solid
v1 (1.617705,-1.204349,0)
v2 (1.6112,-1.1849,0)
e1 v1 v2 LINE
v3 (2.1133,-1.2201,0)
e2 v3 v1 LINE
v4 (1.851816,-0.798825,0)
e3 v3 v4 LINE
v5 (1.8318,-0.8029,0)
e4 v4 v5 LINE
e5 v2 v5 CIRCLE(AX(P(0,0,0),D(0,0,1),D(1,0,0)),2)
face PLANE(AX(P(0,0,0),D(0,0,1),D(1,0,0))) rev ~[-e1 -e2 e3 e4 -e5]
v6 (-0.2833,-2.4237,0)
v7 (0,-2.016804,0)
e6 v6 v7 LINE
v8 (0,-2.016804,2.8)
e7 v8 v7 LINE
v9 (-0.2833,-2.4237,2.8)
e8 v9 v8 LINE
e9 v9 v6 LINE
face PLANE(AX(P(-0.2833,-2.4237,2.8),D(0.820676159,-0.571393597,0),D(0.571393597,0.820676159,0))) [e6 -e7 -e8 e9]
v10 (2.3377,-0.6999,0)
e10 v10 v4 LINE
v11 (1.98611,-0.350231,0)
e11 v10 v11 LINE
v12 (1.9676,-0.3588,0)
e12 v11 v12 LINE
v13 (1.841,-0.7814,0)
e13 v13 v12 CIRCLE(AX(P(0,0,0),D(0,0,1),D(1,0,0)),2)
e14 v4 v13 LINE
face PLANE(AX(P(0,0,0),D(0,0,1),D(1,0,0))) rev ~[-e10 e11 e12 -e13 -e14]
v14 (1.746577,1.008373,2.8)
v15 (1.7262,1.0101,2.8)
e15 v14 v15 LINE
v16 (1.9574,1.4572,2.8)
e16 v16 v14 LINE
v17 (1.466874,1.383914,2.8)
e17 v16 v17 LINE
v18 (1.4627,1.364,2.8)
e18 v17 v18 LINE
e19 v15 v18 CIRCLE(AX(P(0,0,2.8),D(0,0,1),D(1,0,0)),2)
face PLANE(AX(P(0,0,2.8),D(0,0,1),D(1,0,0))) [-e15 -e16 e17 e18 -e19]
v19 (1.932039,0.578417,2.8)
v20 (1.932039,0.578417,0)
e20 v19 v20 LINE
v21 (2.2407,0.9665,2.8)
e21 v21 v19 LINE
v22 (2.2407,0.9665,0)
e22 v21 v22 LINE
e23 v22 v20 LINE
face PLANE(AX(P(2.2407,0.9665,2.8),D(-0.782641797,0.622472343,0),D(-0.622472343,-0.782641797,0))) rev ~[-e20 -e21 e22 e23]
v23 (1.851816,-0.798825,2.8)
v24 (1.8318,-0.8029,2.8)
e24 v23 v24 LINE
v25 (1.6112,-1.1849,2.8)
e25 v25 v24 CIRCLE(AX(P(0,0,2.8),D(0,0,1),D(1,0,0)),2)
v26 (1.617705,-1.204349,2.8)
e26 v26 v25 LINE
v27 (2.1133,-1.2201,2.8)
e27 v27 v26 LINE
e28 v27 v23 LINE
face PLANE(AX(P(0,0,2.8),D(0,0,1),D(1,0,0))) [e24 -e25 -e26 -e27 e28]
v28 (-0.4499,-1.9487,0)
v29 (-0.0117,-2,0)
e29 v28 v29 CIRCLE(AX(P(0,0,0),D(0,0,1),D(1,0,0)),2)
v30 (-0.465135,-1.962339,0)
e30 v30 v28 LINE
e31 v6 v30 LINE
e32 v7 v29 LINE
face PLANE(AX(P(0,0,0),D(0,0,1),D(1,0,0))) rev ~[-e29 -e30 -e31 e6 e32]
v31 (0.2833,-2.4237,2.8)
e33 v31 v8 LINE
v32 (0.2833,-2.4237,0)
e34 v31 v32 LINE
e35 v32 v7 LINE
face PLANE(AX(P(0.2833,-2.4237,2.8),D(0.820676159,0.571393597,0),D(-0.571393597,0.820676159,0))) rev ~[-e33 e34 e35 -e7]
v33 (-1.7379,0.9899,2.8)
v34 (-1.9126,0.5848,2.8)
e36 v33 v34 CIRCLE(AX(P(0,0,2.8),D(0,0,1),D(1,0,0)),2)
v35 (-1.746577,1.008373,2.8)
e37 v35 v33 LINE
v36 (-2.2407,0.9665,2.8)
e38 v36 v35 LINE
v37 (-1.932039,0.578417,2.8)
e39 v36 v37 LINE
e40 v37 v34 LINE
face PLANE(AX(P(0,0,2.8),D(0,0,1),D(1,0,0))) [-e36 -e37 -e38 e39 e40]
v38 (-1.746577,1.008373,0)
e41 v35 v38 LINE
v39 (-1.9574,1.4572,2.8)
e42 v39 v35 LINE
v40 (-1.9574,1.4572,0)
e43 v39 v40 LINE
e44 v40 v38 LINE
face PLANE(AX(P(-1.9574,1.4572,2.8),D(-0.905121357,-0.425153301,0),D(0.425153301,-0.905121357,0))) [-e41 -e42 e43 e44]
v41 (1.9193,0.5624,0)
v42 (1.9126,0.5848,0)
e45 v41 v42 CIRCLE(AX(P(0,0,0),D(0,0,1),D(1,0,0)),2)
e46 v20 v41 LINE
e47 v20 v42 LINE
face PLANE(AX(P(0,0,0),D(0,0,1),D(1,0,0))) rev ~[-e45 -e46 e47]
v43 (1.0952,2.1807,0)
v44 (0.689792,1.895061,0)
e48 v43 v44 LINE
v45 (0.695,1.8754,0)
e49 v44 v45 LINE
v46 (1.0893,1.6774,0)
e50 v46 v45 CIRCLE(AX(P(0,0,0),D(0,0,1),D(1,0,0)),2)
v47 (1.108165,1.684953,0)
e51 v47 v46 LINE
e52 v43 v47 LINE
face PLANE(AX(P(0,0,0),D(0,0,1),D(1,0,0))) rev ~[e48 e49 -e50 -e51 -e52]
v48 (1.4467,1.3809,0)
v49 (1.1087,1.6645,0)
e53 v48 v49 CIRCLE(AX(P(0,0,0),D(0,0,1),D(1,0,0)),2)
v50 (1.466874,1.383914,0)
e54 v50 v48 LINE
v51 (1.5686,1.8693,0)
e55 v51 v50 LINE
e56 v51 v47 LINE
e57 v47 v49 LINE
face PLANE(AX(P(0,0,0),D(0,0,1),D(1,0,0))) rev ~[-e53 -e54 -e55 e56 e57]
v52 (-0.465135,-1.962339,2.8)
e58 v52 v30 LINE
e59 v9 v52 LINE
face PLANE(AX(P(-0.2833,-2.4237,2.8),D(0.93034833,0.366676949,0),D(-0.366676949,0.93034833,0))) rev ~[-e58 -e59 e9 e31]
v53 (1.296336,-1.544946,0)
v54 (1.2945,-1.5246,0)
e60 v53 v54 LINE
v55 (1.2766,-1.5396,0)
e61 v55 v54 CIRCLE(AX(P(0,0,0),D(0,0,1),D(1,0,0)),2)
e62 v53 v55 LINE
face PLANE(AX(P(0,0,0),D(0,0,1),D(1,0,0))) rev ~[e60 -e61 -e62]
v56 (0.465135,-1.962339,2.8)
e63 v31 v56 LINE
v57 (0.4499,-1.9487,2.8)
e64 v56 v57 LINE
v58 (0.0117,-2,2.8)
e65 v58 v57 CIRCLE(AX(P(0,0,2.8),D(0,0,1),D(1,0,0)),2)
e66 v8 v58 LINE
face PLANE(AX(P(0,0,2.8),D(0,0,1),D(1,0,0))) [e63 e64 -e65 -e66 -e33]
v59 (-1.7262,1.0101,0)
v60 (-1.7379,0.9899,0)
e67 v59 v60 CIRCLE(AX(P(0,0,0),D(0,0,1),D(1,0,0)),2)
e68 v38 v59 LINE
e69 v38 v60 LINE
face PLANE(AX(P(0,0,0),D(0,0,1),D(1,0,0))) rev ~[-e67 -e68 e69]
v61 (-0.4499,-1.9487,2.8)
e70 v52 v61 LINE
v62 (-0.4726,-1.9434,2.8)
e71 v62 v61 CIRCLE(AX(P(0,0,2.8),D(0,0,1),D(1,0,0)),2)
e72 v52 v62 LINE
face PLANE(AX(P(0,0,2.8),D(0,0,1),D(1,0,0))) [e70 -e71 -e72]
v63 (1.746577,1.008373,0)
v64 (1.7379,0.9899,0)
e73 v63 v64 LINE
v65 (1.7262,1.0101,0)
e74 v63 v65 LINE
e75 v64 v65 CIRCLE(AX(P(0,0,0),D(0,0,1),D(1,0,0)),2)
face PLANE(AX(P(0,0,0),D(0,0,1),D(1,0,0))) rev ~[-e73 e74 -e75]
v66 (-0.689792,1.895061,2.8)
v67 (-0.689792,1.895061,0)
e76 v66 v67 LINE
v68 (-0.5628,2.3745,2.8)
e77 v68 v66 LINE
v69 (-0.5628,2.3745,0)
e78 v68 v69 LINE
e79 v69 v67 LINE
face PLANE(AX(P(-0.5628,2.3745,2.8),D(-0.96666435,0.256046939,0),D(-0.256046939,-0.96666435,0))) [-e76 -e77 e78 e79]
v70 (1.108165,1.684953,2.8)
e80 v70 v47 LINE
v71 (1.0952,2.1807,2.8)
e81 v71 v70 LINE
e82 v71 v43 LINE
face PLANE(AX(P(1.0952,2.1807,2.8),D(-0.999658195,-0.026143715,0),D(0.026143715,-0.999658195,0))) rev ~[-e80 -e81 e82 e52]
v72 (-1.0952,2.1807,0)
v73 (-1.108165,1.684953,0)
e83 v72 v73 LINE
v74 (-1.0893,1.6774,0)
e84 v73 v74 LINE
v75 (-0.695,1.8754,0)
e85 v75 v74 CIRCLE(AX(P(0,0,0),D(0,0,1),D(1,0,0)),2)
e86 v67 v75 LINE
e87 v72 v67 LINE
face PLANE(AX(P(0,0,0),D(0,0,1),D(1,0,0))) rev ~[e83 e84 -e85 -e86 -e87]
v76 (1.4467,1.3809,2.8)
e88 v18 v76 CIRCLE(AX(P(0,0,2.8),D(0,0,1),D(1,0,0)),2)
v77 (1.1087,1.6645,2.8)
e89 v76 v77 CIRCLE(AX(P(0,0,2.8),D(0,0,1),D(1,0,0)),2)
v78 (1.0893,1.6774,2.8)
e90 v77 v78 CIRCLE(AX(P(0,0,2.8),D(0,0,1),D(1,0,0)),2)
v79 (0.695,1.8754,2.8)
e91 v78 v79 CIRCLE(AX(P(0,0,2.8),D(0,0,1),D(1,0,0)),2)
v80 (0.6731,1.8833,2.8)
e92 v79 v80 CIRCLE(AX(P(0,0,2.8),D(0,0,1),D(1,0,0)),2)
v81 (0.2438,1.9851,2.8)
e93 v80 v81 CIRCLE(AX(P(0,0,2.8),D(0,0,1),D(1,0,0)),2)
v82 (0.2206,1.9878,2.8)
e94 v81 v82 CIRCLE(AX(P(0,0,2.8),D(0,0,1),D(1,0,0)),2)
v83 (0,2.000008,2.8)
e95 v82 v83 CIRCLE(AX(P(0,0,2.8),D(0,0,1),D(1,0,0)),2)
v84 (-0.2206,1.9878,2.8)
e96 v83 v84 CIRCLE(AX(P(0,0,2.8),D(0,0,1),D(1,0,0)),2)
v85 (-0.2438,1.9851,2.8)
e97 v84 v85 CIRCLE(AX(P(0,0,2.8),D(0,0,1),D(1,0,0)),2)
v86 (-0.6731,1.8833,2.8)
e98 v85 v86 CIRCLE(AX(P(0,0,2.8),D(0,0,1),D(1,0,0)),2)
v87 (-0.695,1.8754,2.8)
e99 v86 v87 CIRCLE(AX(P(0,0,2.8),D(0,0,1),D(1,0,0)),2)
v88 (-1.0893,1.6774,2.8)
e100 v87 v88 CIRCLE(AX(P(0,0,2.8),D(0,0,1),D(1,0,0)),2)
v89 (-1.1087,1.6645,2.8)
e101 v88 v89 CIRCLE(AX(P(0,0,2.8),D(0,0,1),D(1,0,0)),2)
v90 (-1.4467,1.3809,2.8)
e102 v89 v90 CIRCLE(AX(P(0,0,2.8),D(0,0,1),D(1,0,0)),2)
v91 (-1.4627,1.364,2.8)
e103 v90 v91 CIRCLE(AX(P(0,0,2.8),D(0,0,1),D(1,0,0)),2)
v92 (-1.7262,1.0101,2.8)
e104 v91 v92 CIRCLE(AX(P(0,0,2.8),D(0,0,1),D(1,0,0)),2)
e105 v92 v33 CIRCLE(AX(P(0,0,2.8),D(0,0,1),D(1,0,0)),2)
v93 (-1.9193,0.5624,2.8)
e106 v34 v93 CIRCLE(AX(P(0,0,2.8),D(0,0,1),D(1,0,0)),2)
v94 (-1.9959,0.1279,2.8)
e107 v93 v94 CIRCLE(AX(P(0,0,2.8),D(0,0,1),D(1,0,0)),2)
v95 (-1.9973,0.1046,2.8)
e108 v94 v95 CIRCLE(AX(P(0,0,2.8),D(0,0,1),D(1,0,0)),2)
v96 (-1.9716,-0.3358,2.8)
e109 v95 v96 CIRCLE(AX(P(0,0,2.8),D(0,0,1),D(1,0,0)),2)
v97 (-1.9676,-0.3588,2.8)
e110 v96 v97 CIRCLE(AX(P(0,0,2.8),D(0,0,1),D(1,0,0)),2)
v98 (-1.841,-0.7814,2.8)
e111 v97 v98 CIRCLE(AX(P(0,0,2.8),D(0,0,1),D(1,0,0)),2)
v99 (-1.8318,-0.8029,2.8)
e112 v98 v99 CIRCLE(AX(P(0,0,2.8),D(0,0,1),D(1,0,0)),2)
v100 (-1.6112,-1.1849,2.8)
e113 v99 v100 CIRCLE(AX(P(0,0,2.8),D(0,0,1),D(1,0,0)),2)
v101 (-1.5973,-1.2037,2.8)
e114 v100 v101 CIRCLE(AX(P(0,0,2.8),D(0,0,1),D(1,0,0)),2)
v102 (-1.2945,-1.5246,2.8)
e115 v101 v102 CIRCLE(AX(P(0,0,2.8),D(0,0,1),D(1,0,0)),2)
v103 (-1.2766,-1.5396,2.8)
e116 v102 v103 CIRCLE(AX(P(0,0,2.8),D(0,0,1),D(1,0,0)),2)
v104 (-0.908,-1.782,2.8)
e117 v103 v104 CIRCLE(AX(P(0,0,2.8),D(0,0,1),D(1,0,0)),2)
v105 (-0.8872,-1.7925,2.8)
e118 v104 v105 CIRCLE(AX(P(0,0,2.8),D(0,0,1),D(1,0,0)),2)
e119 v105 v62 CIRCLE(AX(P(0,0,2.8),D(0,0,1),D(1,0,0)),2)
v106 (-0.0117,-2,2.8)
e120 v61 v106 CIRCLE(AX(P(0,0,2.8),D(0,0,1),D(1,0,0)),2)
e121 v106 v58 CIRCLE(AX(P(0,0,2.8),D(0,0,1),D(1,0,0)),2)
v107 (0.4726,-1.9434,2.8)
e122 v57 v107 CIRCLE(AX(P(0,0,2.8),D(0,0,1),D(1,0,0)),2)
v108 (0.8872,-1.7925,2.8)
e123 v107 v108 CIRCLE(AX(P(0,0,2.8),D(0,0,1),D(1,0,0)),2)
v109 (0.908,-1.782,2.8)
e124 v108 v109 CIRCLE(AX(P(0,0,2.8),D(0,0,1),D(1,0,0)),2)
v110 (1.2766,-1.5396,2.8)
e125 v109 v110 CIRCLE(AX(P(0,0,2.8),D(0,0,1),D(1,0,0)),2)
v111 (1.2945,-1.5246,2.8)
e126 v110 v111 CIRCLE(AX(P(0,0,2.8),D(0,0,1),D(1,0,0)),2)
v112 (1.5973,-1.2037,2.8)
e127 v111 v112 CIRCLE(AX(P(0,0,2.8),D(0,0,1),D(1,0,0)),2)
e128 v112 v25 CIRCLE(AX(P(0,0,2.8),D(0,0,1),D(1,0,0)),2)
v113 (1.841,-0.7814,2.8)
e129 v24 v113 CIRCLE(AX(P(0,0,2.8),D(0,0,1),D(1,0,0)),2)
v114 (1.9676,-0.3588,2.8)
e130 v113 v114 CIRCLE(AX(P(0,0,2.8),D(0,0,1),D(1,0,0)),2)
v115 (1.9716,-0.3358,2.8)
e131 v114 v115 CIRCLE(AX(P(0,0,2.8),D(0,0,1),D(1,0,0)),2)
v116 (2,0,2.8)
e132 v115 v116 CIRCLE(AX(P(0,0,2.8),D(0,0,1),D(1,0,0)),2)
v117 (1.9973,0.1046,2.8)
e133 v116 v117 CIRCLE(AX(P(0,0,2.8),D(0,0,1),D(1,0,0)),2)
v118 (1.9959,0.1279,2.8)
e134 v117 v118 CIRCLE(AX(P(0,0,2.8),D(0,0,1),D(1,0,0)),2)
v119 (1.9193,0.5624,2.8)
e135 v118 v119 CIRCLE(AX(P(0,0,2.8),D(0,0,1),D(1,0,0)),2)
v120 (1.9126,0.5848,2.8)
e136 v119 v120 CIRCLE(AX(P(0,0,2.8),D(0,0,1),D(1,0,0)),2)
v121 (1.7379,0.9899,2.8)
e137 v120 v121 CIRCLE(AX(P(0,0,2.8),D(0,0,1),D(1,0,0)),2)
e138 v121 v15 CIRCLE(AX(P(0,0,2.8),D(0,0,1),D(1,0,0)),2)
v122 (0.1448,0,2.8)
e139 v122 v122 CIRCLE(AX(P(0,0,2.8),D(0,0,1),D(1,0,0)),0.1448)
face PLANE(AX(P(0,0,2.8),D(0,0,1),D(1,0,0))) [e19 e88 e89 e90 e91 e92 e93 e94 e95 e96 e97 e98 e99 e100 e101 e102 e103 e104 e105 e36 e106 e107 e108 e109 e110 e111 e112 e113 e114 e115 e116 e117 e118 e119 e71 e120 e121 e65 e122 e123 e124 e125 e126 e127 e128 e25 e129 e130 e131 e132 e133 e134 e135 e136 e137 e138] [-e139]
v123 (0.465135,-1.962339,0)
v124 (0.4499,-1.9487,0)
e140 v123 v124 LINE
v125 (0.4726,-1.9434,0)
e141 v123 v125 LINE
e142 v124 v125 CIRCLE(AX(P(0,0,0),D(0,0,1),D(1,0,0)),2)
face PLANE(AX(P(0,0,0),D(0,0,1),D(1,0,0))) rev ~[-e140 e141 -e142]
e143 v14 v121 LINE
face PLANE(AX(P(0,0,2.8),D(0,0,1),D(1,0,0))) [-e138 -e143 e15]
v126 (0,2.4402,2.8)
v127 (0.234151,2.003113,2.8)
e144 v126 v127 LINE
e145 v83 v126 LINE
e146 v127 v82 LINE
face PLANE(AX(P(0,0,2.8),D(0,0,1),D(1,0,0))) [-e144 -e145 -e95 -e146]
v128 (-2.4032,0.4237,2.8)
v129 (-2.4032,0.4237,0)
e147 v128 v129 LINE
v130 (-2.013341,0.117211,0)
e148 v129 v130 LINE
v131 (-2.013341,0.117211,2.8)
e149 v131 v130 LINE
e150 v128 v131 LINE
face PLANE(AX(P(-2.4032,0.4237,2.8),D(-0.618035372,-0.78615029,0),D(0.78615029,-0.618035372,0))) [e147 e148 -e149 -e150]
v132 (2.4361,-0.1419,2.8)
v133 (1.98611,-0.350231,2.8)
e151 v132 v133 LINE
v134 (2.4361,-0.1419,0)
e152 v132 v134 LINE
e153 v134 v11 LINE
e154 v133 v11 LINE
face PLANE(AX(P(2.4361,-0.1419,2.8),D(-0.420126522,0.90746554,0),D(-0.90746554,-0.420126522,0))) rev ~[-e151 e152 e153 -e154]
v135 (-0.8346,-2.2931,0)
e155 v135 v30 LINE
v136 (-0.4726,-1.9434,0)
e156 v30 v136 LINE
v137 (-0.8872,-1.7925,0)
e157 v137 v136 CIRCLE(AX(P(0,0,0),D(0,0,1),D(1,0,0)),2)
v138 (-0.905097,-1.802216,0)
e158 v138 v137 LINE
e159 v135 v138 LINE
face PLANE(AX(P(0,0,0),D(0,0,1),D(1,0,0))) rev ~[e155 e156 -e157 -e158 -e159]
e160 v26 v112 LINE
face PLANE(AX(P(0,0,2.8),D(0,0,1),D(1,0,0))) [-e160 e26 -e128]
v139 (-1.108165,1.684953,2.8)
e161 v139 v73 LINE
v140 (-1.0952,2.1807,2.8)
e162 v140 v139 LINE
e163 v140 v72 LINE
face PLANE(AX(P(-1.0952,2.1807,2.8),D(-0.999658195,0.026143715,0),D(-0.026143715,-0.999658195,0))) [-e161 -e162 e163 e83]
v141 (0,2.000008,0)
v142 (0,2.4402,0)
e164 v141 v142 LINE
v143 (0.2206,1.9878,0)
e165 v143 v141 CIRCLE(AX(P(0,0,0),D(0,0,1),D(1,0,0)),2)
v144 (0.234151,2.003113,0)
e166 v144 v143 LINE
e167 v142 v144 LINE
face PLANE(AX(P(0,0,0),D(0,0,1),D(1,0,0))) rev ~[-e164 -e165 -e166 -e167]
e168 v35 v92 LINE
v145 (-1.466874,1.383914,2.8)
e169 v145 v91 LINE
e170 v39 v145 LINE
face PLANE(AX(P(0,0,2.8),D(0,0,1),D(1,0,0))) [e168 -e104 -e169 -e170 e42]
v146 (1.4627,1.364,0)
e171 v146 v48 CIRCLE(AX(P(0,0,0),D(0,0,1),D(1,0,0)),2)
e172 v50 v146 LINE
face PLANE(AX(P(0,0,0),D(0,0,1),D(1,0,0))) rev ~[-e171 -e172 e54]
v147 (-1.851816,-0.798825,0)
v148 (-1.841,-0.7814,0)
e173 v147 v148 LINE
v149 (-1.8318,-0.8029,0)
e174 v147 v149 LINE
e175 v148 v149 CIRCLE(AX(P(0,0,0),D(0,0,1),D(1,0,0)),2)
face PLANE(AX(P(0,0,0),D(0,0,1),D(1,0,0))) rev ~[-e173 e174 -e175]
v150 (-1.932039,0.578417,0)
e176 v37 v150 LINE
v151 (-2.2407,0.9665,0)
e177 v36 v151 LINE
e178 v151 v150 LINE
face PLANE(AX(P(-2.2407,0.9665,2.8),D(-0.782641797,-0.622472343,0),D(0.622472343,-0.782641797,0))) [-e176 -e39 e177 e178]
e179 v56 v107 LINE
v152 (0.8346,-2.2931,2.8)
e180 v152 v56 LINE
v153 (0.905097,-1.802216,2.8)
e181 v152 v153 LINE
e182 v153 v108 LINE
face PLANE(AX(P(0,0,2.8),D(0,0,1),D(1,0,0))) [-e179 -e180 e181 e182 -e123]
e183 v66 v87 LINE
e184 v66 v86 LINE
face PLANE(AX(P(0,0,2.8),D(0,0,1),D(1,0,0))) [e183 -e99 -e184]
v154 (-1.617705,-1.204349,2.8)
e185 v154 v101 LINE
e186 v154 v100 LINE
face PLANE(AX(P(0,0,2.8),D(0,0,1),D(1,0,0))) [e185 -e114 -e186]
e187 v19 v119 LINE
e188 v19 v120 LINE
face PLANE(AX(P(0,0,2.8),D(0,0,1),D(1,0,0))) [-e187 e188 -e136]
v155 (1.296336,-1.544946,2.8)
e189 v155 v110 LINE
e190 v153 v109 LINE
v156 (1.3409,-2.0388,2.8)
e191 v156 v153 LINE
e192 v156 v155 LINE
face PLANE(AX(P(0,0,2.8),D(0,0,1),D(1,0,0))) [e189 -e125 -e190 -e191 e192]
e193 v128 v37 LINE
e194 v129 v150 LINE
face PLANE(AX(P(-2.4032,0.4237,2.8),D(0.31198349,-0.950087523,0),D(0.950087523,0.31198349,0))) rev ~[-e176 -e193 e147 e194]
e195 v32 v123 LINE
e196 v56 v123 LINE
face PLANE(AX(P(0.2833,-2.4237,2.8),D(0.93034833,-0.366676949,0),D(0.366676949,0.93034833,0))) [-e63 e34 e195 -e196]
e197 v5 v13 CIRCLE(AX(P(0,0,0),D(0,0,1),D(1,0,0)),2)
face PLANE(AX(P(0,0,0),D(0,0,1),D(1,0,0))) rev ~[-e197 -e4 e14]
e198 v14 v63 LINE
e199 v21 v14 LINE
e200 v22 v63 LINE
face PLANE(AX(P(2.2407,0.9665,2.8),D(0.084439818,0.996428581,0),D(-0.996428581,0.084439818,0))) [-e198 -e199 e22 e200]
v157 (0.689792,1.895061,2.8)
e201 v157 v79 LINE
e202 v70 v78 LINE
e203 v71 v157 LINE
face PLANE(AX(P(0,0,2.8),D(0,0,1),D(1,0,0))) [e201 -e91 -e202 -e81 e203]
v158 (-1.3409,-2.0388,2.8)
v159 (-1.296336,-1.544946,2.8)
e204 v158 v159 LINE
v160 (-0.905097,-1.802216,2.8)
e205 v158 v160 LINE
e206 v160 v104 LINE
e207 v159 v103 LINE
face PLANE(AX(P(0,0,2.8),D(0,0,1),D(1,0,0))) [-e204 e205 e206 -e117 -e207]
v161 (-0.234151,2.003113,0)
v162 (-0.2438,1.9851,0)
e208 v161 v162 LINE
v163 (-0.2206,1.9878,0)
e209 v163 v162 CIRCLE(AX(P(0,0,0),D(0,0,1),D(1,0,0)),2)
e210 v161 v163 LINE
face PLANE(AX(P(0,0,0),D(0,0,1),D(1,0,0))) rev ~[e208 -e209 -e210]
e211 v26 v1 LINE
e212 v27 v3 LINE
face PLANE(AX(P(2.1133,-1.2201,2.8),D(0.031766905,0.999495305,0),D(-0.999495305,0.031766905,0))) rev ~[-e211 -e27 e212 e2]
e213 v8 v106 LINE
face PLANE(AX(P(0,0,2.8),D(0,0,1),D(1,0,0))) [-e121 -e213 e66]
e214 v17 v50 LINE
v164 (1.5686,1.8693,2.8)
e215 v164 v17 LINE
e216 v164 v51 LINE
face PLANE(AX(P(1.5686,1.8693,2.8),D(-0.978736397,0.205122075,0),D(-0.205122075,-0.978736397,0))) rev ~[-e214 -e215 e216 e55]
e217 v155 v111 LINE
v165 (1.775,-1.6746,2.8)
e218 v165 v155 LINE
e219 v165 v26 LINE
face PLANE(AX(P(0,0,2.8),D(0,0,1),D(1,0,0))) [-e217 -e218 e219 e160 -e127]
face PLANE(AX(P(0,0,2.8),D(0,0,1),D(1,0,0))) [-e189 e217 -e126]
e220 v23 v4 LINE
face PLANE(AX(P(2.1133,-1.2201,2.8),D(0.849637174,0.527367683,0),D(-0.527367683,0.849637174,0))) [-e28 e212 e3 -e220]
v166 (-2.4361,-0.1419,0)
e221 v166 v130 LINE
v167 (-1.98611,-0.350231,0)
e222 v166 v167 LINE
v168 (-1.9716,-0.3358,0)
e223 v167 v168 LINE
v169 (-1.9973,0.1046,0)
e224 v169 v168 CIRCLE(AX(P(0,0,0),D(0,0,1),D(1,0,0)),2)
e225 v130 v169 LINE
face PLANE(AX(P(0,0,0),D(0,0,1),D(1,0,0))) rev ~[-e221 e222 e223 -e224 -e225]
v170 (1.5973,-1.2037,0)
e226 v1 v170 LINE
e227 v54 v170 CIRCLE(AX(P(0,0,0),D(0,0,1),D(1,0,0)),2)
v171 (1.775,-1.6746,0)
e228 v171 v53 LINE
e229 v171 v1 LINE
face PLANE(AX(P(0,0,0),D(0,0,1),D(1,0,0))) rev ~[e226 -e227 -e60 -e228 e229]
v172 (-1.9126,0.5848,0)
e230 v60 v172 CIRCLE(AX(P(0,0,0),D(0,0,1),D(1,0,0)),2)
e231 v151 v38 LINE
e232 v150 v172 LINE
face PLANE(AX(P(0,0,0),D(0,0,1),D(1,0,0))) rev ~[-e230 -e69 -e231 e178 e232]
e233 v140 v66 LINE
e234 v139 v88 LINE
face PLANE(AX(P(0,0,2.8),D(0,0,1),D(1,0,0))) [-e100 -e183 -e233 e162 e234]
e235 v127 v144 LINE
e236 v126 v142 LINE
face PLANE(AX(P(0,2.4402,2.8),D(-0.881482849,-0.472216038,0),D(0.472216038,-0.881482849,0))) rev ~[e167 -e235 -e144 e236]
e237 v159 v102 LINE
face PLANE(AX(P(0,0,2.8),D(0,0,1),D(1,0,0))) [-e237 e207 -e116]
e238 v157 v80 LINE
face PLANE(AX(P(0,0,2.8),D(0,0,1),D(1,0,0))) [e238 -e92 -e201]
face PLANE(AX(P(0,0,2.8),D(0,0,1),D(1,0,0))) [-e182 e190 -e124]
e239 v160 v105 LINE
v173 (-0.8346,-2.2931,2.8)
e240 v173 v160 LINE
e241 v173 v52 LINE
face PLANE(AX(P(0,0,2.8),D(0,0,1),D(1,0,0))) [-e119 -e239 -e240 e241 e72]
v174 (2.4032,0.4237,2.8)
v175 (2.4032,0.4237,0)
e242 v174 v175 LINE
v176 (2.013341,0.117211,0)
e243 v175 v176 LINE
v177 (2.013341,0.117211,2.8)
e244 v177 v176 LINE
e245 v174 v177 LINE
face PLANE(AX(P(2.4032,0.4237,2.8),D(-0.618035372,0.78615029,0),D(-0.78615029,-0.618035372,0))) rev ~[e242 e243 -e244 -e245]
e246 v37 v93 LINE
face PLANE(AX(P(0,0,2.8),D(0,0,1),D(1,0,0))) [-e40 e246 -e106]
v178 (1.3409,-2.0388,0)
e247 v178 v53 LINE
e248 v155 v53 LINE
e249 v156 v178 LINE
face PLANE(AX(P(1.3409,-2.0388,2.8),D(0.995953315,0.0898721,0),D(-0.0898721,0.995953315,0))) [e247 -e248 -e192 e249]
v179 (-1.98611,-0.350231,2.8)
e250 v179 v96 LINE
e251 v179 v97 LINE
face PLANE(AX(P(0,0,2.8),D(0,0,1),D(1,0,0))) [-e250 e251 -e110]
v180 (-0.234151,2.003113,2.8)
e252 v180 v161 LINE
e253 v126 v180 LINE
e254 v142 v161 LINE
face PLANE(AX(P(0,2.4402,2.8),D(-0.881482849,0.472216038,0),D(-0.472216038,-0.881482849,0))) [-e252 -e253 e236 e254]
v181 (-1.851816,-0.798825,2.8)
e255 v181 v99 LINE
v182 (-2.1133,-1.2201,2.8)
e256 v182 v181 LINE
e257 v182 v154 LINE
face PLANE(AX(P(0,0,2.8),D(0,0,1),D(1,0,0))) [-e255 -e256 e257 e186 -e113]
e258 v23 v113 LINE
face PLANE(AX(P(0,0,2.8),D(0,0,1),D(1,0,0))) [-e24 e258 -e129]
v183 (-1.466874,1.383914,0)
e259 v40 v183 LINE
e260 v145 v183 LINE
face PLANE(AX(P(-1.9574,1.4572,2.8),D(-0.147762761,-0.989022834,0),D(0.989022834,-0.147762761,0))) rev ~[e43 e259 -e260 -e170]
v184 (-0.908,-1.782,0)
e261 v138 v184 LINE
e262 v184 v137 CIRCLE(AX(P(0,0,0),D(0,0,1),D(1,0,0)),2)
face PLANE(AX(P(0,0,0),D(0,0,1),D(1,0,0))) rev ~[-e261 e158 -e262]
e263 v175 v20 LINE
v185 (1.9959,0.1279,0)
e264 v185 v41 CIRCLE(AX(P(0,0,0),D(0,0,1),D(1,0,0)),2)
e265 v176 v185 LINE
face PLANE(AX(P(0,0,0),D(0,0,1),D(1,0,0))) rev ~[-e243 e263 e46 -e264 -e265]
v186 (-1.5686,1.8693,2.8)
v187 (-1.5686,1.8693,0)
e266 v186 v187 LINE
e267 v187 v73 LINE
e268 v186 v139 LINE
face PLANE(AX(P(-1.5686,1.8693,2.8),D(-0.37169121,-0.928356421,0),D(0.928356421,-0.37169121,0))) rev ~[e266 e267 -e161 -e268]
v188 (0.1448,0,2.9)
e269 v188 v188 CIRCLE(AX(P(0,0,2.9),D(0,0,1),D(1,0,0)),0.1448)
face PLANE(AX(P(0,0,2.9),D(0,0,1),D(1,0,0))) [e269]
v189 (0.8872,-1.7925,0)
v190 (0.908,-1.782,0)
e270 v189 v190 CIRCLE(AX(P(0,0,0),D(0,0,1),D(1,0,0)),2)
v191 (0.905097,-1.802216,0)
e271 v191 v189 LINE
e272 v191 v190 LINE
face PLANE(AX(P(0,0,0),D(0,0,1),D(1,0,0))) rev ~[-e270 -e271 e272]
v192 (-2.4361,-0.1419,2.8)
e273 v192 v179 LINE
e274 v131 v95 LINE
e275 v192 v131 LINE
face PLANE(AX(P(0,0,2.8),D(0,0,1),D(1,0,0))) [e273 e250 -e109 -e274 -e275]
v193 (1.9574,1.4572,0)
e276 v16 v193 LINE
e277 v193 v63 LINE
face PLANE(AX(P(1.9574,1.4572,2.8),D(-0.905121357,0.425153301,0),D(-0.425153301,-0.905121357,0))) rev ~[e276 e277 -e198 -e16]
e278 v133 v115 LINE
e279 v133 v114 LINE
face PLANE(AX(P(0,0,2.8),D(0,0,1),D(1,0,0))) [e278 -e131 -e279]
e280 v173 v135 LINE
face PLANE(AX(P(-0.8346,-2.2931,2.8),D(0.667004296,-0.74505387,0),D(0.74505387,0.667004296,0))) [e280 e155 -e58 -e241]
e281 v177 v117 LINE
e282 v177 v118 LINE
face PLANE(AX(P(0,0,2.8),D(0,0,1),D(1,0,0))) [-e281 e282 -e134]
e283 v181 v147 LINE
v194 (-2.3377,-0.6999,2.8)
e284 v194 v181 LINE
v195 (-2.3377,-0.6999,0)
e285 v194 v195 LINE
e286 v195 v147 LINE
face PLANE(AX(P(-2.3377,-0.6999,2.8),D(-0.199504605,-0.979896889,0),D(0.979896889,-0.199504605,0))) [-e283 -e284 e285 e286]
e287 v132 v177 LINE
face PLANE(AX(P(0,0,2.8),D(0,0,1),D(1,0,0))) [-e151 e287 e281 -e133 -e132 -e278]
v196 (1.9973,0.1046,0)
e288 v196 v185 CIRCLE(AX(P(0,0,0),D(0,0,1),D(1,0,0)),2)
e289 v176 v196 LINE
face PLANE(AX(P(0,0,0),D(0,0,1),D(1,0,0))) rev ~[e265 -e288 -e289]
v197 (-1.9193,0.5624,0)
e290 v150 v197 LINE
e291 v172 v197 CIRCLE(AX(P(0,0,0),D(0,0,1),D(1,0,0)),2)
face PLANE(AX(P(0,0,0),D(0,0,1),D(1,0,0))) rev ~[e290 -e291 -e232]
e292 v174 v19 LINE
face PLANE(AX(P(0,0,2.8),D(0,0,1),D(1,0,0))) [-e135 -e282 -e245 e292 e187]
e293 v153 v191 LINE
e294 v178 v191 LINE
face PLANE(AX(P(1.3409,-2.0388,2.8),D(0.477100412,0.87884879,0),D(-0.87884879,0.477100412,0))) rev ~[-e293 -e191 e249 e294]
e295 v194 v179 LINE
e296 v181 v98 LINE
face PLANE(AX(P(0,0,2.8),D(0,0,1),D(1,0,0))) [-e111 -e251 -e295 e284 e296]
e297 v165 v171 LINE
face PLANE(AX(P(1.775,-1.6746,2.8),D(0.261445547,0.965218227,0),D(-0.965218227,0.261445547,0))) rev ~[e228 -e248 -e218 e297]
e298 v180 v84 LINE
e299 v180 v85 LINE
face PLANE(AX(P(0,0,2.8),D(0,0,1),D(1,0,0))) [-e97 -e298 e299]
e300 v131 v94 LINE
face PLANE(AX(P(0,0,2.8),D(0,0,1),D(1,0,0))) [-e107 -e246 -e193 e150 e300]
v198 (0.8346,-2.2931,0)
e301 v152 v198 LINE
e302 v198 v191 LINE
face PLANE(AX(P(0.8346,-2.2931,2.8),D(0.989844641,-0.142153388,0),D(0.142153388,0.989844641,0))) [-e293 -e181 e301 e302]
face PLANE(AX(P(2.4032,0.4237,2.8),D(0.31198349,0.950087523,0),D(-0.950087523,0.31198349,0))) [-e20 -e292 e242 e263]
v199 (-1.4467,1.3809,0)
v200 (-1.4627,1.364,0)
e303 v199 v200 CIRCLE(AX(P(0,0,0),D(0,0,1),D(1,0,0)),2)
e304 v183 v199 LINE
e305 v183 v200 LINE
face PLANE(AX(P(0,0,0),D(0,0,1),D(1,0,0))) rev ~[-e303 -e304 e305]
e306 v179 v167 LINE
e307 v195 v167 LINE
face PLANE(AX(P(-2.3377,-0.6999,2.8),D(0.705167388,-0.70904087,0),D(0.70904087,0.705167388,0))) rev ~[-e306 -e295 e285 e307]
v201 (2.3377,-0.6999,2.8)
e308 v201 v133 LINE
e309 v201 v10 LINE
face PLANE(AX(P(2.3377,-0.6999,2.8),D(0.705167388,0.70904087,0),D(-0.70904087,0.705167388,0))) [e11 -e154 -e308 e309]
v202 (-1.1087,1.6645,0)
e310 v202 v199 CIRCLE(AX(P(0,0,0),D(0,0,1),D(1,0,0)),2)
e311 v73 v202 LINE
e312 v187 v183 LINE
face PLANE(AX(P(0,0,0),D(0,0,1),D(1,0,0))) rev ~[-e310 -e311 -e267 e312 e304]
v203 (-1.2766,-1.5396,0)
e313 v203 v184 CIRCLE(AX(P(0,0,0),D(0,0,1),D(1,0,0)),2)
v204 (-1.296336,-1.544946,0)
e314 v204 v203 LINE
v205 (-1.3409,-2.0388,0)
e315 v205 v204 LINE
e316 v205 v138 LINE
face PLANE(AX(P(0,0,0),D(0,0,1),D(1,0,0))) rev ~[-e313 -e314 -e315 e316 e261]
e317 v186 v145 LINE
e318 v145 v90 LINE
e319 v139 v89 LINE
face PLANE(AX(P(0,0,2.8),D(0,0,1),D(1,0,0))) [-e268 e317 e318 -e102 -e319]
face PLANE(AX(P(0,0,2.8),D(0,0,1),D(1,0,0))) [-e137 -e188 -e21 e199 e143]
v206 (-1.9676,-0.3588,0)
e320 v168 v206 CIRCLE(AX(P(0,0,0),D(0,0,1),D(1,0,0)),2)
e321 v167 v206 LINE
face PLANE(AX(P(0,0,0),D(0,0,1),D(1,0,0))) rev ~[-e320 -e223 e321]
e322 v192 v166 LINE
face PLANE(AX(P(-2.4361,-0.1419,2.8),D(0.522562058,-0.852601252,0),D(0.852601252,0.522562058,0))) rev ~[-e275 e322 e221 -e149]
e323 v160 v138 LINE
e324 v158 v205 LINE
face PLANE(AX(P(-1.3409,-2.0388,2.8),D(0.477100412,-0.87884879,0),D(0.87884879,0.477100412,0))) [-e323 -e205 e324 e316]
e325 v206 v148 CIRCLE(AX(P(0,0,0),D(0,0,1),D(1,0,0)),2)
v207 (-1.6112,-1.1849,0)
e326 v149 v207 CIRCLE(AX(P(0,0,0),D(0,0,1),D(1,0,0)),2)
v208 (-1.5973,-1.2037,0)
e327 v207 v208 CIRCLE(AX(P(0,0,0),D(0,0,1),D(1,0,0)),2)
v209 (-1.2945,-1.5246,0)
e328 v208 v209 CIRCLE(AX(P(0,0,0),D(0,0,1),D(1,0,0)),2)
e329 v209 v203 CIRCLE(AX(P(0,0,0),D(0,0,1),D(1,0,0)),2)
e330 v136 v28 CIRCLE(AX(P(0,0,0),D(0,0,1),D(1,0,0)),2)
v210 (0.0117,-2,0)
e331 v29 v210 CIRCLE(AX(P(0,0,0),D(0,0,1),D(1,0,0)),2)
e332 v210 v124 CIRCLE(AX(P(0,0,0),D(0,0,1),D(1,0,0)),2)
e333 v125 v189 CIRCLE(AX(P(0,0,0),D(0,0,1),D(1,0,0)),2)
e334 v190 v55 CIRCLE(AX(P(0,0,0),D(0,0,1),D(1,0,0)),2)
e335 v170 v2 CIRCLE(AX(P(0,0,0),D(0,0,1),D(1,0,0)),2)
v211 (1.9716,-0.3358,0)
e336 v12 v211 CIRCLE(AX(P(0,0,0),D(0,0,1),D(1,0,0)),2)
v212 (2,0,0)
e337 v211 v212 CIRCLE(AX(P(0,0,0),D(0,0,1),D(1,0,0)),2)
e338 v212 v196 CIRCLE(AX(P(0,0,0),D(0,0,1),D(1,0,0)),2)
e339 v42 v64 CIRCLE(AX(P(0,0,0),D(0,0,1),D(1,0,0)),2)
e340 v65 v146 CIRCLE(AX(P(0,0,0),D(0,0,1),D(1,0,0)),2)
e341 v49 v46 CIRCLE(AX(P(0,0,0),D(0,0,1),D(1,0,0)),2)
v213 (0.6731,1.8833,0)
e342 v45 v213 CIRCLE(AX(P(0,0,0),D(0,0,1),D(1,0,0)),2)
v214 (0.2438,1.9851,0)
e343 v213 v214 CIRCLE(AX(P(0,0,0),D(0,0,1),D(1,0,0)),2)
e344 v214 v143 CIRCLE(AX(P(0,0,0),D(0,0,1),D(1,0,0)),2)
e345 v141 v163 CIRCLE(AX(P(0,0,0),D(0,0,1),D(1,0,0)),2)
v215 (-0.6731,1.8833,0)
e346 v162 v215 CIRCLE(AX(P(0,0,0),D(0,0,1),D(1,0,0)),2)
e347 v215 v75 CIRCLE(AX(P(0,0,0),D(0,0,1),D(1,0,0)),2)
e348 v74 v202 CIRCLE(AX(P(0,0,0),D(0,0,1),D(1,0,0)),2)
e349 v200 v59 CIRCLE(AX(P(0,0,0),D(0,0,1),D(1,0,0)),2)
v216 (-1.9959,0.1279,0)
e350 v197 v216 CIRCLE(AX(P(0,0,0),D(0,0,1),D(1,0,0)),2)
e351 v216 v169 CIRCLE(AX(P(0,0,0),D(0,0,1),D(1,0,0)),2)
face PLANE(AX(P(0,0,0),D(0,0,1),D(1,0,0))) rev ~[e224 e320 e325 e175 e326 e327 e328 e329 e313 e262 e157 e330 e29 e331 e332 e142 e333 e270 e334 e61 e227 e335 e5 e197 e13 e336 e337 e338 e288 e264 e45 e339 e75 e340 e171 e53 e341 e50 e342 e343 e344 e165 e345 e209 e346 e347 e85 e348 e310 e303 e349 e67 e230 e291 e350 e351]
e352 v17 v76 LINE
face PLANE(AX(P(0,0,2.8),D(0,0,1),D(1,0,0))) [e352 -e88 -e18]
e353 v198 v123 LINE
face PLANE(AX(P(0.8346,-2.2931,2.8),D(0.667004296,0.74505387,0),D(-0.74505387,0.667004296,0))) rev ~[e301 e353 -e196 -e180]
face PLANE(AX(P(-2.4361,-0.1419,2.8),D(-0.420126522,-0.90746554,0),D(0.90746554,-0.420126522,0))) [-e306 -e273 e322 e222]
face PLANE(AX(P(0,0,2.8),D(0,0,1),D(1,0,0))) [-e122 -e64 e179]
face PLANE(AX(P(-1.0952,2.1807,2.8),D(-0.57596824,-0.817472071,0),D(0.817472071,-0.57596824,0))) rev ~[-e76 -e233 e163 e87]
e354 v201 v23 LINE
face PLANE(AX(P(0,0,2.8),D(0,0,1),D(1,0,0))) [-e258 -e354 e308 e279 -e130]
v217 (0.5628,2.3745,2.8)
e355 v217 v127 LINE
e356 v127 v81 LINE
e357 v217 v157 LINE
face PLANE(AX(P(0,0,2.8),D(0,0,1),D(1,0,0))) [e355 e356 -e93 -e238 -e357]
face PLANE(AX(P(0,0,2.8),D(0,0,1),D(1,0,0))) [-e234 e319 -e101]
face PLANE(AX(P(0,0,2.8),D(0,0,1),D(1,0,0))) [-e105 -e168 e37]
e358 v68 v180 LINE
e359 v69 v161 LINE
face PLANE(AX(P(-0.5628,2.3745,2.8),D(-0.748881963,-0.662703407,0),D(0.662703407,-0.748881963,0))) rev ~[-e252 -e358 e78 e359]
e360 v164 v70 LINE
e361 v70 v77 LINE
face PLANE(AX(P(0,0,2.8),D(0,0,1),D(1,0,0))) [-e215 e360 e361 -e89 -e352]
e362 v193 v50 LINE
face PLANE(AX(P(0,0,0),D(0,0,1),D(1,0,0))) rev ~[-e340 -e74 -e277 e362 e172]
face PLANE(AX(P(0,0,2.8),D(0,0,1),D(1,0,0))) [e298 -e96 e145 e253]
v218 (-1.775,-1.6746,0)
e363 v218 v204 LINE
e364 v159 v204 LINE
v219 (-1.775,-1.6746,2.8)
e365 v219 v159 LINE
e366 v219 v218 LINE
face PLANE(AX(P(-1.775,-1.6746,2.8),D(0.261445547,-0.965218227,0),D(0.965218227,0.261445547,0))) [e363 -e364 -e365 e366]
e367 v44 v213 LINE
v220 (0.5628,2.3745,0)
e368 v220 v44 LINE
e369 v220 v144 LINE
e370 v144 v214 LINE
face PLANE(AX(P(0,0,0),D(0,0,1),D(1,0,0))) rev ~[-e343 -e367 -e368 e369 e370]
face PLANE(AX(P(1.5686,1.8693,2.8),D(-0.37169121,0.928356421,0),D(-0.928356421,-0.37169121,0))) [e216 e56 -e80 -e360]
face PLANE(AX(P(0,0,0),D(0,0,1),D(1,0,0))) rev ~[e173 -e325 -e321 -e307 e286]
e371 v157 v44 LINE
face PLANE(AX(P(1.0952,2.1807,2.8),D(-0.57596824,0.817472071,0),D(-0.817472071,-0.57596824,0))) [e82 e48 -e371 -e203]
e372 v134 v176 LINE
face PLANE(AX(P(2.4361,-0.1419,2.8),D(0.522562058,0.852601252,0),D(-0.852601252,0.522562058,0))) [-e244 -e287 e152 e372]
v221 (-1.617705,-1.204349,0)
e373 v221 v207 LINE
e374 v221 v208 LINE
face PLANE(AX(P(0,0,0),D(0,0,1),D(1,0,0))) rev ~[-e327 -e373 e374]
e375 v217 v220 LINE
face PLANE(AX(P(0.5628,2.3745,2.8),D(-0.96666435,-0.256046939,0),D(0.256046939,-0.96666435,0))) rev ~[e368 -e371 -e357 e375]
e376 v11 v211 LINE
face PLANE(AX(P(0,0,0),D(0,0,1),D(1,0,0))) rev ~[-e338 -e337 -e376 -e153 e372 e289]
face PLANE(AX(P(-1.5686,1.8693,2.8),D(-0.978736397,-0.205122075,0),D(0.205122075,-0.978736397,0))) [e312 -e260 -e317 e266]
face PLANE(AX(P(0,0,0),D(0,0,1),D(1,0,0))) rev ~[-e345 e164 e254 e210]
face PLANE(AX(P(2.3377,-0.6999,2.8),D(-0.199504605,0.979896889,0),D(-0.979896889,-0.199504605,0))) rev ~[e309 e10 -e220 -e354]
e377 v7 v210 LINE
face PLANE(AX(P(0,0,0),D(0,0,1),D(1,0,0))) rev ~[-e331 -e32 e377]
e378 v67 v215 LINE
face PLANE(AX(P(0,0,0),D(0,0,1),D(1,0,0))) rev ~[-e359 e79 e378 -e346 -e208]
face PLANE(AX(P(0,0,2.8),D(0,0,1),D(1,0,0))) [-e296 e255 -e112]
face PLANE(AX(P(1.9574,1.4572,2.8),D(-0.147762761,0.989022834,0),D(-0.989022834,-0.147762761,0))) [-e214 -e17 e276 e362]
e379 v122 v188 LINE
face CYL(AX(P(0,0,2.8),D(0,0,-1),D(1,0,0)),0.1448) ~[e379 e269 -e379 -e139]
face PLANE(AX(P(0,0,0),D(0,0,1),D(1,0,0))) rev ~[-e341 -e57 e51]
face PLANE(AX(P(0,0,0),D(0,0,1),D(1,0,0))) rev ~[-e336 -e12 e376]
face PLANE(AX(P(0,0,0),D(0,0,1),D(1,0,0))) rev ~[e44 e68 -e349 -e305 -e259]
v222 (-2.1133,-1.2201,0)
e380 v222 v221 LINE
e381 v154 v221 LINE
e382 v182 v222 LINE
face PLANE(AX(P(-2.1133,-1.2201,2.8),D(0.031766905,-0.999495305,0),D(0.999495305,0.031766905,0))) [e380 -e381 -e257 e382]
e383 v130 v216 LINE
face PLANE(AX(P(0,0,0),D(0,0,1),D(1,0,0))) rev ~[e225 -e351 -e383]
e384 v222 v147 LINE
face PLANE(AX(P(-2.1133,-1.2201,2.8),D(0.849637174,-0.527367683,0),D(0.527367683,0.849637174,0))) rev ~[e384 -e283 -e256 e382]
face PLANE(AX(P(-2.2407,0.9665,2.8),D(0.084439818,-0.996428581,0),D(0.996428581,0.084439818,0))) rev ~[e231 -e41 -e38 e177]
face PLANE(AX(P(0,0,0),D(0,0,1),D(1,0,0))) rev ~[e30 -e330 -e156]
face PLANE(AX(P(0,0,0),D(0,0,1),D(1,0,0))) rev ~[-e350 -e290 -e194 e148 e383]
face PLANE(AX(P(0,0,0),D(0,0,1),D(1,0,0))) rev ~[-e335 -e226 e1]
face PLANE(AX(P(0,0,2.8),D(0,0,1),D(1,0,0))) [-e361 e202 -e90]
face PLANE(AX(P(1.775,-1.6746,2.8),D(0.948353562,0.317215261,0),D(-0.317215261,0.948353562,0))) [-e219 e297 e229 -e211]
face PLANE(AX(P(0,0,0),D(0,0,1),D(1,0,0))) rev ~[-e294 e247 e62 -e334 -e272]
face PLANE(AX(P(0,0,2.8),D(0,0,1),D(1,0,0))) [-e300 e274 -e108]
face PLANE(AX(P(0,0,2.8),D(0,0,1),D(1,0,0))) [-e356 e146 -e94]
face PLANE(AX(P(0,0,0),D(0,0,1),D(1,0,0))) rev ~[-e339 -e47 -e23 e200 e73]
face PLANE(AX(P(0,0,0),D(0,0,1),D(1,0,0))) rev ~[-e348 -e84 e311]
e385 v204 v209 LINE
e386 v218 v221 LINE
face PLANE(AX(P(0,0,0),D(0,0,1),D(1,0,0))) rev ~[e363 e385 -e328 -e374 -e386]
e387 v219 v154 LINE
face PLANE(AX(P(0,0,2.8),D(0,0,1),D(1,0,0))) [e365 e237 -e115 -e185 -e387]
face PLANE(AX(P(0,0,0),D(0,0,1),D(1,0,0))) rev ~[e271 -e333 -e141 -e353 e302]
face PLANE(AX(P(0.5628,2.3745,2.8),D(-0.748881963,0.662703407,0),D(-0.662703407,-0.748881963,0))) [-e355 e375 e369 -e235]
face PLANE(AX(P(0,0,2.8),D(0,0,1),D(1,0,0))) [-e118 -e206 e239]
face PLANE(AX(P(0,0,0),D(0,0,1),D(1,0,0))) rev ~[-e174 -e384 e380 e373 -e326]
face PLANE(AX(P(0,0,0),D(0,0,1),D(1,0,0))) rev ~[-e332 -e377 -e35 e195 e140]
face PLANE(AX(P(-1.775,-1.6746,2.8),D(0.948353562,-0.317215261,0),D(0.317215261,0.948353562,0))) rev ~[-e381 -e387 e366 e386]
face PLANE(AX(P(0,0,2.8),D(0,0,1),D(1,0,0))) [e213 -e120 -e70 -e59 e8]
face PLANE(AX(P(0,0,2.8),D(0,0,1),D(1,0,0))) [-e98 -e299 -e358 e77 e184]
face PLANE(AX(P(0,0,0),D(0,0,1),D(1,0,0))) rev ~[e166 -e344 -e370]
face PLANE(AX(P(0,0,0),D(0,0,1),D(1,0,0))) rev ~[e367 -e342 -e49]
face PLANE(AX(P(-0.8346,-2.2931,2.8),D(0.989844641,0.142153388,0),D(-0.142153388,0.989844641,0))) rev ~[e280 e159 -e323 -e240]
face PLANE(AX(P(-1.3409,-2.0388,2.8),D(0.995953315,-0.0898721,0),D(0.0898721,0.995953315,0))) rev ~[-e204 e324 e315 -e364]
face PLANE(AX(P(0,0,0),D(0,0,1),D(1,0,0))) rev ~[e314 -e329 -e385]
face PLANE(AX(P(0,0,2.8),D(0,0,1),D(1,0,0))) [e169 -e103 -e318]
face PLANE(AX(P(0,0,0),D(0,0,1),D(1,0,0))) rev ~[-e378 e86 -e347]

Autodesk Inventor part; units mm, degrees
ref_plane "YZ Plane" through (0, 0, 0) normal (1, 0, 0) x (0, 1, 0)
ref_plane "XZ Plane" through (0, 0, 0) normal (0, 1, 0) x (-1, 0, 0)
ref_plane "XY Plane" through (0, 0, 0) normal (0, 0, 1) x (1, 0, 0)
sketch "Sketch1" plane through (0, 0, 0) normal (0, 0, 1) x (1, 0, 0)
  circle A0 centre (0, 0) radius 2
  dimension "d0" = 4
extrude "Extrusion1" add sketch "Sketch1" along normal blind 2.8
sketch "Sketch2" plane through (0, 0, 2.8) normal (0, 0, 1) x (1, 0, 0)
  circle A0 centre (0, 0) radius 0.5
  circle A1 centre (0, 0) radius 2
  line L0 (0, 0) -> (0, 5.155)
  line L1 (0, 2.4402) -> (-0.2438, 1.9851)
  line L2 (0, 2.4402) -> (0.2438, 1.9851)
  arc A2 (0.2438, 1.9851) -> (-0.2438, 1.9851) centre (0, 0) ccw
  line L3 (-0.2438, 1.9851) -> (0, 2.4402)
  line L4 (0, 2.4402) -> (0.2438, 1.9851)
  line L5 (-0.5628, 2.3745) -> (-0.695, 1.8754)
  line L6 (-0.5628, 2.3745) -> (-0.2206, 1.9878)
  arc A3 (-0.2206, 1.9878) -> (-0.695, 1.8754) centre (0, 0) ccw
  line L7 (-1.0952, 2.1807) -> (-1.1087, 1.6645)
  line L8 (-1.0952, 2.1807) -> (-0.6731, 1.8833)
  arc A4 (-0.6731, 1.8833) -> (-1.1087, 1.6645) centre (0, 0) ccw
  line L9 (-1.5686, 1.8693) -> (-1.4627, 1.364)
  line L10 (-1.5686, 1.8693) -> (-1.0893, 1.6774)
  arc A5 (-1.0893, 1.6774) -> (-1.4627, 1.364) centre (0, 0) ccw
  line L11 (-1.9574, 1.4572) -> (-1.7379, 0.9899)
  line L12 (-1.9574, 1.4572) -> (-1.4467, 1.3809)
  arc A6 (-1.4467, 1.3809) -> (-1.7379, 0.9899) centre (0, 0) ccw
  line L13 (-2.2407, 0.9665) -> (-1.9193, 0.5624)
  line L14 (-2.2407, 0.9665) -> (-1.7262, 1.0101)
  arc A7 (-1.7262, 1.0101) -> (-1.9193, 0.5624) centre (0, 0) ccw
  line L15 (-2.4032, 0.4237) -> (-1.9973, 0.1046)
  line L16 (-2.4032, 0.4237) -> (-1.9126, 0.5848)
  arc A8 (-1.9126, 0.5848) -> (-1.9973, 0.1046) centre (0, 0) ccw
  line L17 (-2.4361, -0.1419) -> (-1.9676, -0.3588)
  line L18 (-2.4361, -0.1419) -> (-1.9959, 0.1279)
  arc A9 (-1.9959, 0.1279) -> (-1.9676, -0.3588) centre (0, 0) ccw
  line L19 (-2.3377, -0.6999) -> (-1.8318, -0.8029)
  line L20 (-2.3377, -0.6999) -> (-1.9716, -0.3358)
  arc A10 (-1.9716, -0.3358) -> (-1.8318, -0.8029) centre (0, 0) ccw
  line L21 (-2.1133, -1.2201) -> (-1.5973, -1.2037)
  line L22 (-2.1133, -1.2201) -> (-1.841, -0.7814)
  arc A11 (-1.841, -0.7814) -> (-1.5973, -1.2037) centre (0, 0) ccw
  line L23 (-1.775, -1.6746) -> (-1.2766, -1.5396)
  line L24 (-1.775, -1.6746) -> (-1.6112, -1.1849)
  arc A12 (-1.6112, -1.1849) -> (-1.2766, -1.5396) centre (0, 0) ccw
  line L25 (-1.3409, -2.0388) -> (-0.8872, -1.7925)
  line L26 (-1.3409, -2.0388) -> (-1.2945, -1.5246)
  arc A13 (-1.2945, -1.5246) -> (-0.8872, -1.7925) centre (0, 0) ccw
  line L27 (-0.8346, -2.2931) -> (-0.4499, -1.9487)
  line L28 (-0.8346, -2.2931) -> (-0.908, -1.782)
  arc A14 (-0.908, -1.782) -> (-0.4499, -1.9487) centre (0, 0) ccw
  line L29 (-0.2833, -2.4237) -> (0.0117, -2)
  line L30 (-0.2833, -2.4237) -> (-0.4726, -1.9434)
  arc A15 (-0.4726, -1.9434) -> (0.0117, -2) centre (0, 0) ccw
  line L31 (0.2833, -2.4237) -> (0.4726, -1.9434)
  line L32 (0.2833, -2.4237) -> (-0.0117, -2)
  arc A16 (-0.0117, -2) -> (0.4726, -1.9434) centre (0, 0) ccw
  line L33 (0.8346, -2.2931) -> (0.908, -1.782)
  line L34 (0.8346, -2.2931) -> (0.4499, -1.9487)
  arc A17 (0.4499, -1.9487) -> (0.908, -1.782) centre (0, 0) ccw
  line L35 (1.3409, -2.0388) -> (1.2945, -1.5246)
  line L36 (1.3409, -2.0388) -> (0.8872, -1.7925)
  arc A18 (0.8872, -1.7925) -> (1.2945, -1.5246) centre (0, 0) ccw
  line L37 (1.775, -1.6746) -> (1.6112, -1.1849)
  line L38 (1.775, -1.6746) -> (1.2766, -1.5396)
  arc A19 (1.2766, -1.5396) -> (1.6112, -1.1849) centre (0, 0) ccw
  line L39 (2.1133, -1.2201) -> (1.841, -0.7814)
  line L40 (2.1133, -1.2201) -> (1.5973, -1.2037)
  arc A20 (1.5973, -1.2037) -> (1.841, -0.7814) centre (0, 0) ccw
  line L41 (2.3377, -0.6999) -> (1.9716, -0.3358)
  line L42 (2.3377, -0.6999) -> (1.8318, -0.8029)
  arc A21 (1.8318, -0.8029) -> (1.9716, -0.3358) centre (0, 0) ccw
  line L43 (2.4361, -0.1419) -> (1.9959, 0.1279)
  line L44 (2.4361, -0.1419) -> (1.9676, -0.3588)
  arc A22 (1.9676, -0.3588) -> (1.9959, 0.1279) centre (0, 0) ccw
  line L45 (2.4032, 0.4237) -> (1.9126, 0.5848)
  line L46 (2.4032, 0.4237) -> (1.9973, 0.1046)
  arc A23 (1.9973, 0.1046) -> (1.9126, 0.5848) centre (0, 0) ccw
  line L47 (2.2407, 0.9665) -> (1.7262, 1.0101)
  line L48 (2.2407, 0.9665) -> (1.9193, 0.5624)
  arc A24 (1.9193, 0.5624) -> (1.7262, 1.0101) centre (0, 0) ccw
  line L49 (1.9574, 1.4572) -> (1.4467, 1.3809)
  line L50 (1.9574, 1.4572) -> (1.7379, 0.9899)
  arc A25 (1.7379, 0.9899) -> (1.4467, 1.3809) centre (0, 0) ccw
  line L51 (1.5686, 1.8693) -> (1.0893, 1.6774)
  line L52 (1.5686, 1.8693) -> (1.4627, 1.364)
  arc A26 (1.4627, 1.364) -> (1.0893, 1.6774) centre (0, 0) ccw
  line L53 (1.0952, 2.1807) -> (0.6731, 1.8833)
  line L54 (1.0952, 2.1807) -> (1.1087, 1.6645)
  arc A27 (1.1087, 1.6645) -> (0.6731, 1.8833) centre (0, 0) ccw
  line L55 (0.5628, 2.3745) -> (0.2206, 1.9878)
  line L56 (0.5628, 2.3745) -> (0.695, 1.8754)
  arc A28 (0.695, 1.8754) -> (0.2206, 1.9878) centre (0, 0) ccw
  dimension "d5" = 360
extrude "Extrusion2" add sketch "Sketch2" against normal up to surface (2.8 mm away) contours A1 L6 L1 L0 | L0 L2 L55 A1 | L55 L2 A1 | A1 L1 L6 | L2 L55 L56 L53 A1 | A1 L8 L5 L6 L1 | L53 L56 A1 | A1 L5 L8 | L56 L53 L54 L51 A1 | A1 L10 L7 L8 L5 | L51 L54 A1 | A1 L7 L10 | L54 L51 L52 L49 A1 | A1 L12 L9 L10 L7 | L49 L52 A1 | A1 L9 L12 | L52 L49 L50 L47 A1 | A1 L14 L11 L12 L9 | L47 L50 A1 | A1 L11 L14 | L50 L47 L48 L45 A1 | A1 L16 L13 L14 L11 | L45 L48 A1 | A1 L13 L16 | L48 L45 L46 L43 A1 | A1 L18 L15 L16 L13 | L43 L46 A1 | A1 L15 L18 | L46 L43 L44 L41 A1 | A1 L20 L17 L18 L15 | A1 L17 L20 | L41 L44 A1 | L41 L42 L39 A1 L44 | A1 L22 L19 L20 L17 | A1 L19 L22 | L39 L42 A1 | L39 L40 L37 A1 L42 | A1 L24 L21 L22 L19 | A1 L21 L24 | L37 L40 A1 | L37 L38 L35 A1 L40 | A1 L26 L23 L24 L21 | A1 L23 L26 | L35 L38 A1 | L35 L36 L33 A1 L38 | A1 L28 L25 L26 L23 | A1 L25 L28 | L33 L36 A1 | L33 L34 L31 A1 L36 | A1 L30 L27 L28 L25 | A1 L27 L30 | L31 L34 A1 | L31 L32 L29 A1 L34 | A1 L32 L29 L30 L27 | A1 L29 L32
sketch "Sketch3" plane through (0, 0, 2.8) normal (0, 0, 1) x (1, 0, 0)
  circle A0 centre (0, 0) radius 0.1448
extrude "Extrusion3" add sketch "Sketch3" along normal blind 0.1
properties part number "launcher.motor.lowgear"
